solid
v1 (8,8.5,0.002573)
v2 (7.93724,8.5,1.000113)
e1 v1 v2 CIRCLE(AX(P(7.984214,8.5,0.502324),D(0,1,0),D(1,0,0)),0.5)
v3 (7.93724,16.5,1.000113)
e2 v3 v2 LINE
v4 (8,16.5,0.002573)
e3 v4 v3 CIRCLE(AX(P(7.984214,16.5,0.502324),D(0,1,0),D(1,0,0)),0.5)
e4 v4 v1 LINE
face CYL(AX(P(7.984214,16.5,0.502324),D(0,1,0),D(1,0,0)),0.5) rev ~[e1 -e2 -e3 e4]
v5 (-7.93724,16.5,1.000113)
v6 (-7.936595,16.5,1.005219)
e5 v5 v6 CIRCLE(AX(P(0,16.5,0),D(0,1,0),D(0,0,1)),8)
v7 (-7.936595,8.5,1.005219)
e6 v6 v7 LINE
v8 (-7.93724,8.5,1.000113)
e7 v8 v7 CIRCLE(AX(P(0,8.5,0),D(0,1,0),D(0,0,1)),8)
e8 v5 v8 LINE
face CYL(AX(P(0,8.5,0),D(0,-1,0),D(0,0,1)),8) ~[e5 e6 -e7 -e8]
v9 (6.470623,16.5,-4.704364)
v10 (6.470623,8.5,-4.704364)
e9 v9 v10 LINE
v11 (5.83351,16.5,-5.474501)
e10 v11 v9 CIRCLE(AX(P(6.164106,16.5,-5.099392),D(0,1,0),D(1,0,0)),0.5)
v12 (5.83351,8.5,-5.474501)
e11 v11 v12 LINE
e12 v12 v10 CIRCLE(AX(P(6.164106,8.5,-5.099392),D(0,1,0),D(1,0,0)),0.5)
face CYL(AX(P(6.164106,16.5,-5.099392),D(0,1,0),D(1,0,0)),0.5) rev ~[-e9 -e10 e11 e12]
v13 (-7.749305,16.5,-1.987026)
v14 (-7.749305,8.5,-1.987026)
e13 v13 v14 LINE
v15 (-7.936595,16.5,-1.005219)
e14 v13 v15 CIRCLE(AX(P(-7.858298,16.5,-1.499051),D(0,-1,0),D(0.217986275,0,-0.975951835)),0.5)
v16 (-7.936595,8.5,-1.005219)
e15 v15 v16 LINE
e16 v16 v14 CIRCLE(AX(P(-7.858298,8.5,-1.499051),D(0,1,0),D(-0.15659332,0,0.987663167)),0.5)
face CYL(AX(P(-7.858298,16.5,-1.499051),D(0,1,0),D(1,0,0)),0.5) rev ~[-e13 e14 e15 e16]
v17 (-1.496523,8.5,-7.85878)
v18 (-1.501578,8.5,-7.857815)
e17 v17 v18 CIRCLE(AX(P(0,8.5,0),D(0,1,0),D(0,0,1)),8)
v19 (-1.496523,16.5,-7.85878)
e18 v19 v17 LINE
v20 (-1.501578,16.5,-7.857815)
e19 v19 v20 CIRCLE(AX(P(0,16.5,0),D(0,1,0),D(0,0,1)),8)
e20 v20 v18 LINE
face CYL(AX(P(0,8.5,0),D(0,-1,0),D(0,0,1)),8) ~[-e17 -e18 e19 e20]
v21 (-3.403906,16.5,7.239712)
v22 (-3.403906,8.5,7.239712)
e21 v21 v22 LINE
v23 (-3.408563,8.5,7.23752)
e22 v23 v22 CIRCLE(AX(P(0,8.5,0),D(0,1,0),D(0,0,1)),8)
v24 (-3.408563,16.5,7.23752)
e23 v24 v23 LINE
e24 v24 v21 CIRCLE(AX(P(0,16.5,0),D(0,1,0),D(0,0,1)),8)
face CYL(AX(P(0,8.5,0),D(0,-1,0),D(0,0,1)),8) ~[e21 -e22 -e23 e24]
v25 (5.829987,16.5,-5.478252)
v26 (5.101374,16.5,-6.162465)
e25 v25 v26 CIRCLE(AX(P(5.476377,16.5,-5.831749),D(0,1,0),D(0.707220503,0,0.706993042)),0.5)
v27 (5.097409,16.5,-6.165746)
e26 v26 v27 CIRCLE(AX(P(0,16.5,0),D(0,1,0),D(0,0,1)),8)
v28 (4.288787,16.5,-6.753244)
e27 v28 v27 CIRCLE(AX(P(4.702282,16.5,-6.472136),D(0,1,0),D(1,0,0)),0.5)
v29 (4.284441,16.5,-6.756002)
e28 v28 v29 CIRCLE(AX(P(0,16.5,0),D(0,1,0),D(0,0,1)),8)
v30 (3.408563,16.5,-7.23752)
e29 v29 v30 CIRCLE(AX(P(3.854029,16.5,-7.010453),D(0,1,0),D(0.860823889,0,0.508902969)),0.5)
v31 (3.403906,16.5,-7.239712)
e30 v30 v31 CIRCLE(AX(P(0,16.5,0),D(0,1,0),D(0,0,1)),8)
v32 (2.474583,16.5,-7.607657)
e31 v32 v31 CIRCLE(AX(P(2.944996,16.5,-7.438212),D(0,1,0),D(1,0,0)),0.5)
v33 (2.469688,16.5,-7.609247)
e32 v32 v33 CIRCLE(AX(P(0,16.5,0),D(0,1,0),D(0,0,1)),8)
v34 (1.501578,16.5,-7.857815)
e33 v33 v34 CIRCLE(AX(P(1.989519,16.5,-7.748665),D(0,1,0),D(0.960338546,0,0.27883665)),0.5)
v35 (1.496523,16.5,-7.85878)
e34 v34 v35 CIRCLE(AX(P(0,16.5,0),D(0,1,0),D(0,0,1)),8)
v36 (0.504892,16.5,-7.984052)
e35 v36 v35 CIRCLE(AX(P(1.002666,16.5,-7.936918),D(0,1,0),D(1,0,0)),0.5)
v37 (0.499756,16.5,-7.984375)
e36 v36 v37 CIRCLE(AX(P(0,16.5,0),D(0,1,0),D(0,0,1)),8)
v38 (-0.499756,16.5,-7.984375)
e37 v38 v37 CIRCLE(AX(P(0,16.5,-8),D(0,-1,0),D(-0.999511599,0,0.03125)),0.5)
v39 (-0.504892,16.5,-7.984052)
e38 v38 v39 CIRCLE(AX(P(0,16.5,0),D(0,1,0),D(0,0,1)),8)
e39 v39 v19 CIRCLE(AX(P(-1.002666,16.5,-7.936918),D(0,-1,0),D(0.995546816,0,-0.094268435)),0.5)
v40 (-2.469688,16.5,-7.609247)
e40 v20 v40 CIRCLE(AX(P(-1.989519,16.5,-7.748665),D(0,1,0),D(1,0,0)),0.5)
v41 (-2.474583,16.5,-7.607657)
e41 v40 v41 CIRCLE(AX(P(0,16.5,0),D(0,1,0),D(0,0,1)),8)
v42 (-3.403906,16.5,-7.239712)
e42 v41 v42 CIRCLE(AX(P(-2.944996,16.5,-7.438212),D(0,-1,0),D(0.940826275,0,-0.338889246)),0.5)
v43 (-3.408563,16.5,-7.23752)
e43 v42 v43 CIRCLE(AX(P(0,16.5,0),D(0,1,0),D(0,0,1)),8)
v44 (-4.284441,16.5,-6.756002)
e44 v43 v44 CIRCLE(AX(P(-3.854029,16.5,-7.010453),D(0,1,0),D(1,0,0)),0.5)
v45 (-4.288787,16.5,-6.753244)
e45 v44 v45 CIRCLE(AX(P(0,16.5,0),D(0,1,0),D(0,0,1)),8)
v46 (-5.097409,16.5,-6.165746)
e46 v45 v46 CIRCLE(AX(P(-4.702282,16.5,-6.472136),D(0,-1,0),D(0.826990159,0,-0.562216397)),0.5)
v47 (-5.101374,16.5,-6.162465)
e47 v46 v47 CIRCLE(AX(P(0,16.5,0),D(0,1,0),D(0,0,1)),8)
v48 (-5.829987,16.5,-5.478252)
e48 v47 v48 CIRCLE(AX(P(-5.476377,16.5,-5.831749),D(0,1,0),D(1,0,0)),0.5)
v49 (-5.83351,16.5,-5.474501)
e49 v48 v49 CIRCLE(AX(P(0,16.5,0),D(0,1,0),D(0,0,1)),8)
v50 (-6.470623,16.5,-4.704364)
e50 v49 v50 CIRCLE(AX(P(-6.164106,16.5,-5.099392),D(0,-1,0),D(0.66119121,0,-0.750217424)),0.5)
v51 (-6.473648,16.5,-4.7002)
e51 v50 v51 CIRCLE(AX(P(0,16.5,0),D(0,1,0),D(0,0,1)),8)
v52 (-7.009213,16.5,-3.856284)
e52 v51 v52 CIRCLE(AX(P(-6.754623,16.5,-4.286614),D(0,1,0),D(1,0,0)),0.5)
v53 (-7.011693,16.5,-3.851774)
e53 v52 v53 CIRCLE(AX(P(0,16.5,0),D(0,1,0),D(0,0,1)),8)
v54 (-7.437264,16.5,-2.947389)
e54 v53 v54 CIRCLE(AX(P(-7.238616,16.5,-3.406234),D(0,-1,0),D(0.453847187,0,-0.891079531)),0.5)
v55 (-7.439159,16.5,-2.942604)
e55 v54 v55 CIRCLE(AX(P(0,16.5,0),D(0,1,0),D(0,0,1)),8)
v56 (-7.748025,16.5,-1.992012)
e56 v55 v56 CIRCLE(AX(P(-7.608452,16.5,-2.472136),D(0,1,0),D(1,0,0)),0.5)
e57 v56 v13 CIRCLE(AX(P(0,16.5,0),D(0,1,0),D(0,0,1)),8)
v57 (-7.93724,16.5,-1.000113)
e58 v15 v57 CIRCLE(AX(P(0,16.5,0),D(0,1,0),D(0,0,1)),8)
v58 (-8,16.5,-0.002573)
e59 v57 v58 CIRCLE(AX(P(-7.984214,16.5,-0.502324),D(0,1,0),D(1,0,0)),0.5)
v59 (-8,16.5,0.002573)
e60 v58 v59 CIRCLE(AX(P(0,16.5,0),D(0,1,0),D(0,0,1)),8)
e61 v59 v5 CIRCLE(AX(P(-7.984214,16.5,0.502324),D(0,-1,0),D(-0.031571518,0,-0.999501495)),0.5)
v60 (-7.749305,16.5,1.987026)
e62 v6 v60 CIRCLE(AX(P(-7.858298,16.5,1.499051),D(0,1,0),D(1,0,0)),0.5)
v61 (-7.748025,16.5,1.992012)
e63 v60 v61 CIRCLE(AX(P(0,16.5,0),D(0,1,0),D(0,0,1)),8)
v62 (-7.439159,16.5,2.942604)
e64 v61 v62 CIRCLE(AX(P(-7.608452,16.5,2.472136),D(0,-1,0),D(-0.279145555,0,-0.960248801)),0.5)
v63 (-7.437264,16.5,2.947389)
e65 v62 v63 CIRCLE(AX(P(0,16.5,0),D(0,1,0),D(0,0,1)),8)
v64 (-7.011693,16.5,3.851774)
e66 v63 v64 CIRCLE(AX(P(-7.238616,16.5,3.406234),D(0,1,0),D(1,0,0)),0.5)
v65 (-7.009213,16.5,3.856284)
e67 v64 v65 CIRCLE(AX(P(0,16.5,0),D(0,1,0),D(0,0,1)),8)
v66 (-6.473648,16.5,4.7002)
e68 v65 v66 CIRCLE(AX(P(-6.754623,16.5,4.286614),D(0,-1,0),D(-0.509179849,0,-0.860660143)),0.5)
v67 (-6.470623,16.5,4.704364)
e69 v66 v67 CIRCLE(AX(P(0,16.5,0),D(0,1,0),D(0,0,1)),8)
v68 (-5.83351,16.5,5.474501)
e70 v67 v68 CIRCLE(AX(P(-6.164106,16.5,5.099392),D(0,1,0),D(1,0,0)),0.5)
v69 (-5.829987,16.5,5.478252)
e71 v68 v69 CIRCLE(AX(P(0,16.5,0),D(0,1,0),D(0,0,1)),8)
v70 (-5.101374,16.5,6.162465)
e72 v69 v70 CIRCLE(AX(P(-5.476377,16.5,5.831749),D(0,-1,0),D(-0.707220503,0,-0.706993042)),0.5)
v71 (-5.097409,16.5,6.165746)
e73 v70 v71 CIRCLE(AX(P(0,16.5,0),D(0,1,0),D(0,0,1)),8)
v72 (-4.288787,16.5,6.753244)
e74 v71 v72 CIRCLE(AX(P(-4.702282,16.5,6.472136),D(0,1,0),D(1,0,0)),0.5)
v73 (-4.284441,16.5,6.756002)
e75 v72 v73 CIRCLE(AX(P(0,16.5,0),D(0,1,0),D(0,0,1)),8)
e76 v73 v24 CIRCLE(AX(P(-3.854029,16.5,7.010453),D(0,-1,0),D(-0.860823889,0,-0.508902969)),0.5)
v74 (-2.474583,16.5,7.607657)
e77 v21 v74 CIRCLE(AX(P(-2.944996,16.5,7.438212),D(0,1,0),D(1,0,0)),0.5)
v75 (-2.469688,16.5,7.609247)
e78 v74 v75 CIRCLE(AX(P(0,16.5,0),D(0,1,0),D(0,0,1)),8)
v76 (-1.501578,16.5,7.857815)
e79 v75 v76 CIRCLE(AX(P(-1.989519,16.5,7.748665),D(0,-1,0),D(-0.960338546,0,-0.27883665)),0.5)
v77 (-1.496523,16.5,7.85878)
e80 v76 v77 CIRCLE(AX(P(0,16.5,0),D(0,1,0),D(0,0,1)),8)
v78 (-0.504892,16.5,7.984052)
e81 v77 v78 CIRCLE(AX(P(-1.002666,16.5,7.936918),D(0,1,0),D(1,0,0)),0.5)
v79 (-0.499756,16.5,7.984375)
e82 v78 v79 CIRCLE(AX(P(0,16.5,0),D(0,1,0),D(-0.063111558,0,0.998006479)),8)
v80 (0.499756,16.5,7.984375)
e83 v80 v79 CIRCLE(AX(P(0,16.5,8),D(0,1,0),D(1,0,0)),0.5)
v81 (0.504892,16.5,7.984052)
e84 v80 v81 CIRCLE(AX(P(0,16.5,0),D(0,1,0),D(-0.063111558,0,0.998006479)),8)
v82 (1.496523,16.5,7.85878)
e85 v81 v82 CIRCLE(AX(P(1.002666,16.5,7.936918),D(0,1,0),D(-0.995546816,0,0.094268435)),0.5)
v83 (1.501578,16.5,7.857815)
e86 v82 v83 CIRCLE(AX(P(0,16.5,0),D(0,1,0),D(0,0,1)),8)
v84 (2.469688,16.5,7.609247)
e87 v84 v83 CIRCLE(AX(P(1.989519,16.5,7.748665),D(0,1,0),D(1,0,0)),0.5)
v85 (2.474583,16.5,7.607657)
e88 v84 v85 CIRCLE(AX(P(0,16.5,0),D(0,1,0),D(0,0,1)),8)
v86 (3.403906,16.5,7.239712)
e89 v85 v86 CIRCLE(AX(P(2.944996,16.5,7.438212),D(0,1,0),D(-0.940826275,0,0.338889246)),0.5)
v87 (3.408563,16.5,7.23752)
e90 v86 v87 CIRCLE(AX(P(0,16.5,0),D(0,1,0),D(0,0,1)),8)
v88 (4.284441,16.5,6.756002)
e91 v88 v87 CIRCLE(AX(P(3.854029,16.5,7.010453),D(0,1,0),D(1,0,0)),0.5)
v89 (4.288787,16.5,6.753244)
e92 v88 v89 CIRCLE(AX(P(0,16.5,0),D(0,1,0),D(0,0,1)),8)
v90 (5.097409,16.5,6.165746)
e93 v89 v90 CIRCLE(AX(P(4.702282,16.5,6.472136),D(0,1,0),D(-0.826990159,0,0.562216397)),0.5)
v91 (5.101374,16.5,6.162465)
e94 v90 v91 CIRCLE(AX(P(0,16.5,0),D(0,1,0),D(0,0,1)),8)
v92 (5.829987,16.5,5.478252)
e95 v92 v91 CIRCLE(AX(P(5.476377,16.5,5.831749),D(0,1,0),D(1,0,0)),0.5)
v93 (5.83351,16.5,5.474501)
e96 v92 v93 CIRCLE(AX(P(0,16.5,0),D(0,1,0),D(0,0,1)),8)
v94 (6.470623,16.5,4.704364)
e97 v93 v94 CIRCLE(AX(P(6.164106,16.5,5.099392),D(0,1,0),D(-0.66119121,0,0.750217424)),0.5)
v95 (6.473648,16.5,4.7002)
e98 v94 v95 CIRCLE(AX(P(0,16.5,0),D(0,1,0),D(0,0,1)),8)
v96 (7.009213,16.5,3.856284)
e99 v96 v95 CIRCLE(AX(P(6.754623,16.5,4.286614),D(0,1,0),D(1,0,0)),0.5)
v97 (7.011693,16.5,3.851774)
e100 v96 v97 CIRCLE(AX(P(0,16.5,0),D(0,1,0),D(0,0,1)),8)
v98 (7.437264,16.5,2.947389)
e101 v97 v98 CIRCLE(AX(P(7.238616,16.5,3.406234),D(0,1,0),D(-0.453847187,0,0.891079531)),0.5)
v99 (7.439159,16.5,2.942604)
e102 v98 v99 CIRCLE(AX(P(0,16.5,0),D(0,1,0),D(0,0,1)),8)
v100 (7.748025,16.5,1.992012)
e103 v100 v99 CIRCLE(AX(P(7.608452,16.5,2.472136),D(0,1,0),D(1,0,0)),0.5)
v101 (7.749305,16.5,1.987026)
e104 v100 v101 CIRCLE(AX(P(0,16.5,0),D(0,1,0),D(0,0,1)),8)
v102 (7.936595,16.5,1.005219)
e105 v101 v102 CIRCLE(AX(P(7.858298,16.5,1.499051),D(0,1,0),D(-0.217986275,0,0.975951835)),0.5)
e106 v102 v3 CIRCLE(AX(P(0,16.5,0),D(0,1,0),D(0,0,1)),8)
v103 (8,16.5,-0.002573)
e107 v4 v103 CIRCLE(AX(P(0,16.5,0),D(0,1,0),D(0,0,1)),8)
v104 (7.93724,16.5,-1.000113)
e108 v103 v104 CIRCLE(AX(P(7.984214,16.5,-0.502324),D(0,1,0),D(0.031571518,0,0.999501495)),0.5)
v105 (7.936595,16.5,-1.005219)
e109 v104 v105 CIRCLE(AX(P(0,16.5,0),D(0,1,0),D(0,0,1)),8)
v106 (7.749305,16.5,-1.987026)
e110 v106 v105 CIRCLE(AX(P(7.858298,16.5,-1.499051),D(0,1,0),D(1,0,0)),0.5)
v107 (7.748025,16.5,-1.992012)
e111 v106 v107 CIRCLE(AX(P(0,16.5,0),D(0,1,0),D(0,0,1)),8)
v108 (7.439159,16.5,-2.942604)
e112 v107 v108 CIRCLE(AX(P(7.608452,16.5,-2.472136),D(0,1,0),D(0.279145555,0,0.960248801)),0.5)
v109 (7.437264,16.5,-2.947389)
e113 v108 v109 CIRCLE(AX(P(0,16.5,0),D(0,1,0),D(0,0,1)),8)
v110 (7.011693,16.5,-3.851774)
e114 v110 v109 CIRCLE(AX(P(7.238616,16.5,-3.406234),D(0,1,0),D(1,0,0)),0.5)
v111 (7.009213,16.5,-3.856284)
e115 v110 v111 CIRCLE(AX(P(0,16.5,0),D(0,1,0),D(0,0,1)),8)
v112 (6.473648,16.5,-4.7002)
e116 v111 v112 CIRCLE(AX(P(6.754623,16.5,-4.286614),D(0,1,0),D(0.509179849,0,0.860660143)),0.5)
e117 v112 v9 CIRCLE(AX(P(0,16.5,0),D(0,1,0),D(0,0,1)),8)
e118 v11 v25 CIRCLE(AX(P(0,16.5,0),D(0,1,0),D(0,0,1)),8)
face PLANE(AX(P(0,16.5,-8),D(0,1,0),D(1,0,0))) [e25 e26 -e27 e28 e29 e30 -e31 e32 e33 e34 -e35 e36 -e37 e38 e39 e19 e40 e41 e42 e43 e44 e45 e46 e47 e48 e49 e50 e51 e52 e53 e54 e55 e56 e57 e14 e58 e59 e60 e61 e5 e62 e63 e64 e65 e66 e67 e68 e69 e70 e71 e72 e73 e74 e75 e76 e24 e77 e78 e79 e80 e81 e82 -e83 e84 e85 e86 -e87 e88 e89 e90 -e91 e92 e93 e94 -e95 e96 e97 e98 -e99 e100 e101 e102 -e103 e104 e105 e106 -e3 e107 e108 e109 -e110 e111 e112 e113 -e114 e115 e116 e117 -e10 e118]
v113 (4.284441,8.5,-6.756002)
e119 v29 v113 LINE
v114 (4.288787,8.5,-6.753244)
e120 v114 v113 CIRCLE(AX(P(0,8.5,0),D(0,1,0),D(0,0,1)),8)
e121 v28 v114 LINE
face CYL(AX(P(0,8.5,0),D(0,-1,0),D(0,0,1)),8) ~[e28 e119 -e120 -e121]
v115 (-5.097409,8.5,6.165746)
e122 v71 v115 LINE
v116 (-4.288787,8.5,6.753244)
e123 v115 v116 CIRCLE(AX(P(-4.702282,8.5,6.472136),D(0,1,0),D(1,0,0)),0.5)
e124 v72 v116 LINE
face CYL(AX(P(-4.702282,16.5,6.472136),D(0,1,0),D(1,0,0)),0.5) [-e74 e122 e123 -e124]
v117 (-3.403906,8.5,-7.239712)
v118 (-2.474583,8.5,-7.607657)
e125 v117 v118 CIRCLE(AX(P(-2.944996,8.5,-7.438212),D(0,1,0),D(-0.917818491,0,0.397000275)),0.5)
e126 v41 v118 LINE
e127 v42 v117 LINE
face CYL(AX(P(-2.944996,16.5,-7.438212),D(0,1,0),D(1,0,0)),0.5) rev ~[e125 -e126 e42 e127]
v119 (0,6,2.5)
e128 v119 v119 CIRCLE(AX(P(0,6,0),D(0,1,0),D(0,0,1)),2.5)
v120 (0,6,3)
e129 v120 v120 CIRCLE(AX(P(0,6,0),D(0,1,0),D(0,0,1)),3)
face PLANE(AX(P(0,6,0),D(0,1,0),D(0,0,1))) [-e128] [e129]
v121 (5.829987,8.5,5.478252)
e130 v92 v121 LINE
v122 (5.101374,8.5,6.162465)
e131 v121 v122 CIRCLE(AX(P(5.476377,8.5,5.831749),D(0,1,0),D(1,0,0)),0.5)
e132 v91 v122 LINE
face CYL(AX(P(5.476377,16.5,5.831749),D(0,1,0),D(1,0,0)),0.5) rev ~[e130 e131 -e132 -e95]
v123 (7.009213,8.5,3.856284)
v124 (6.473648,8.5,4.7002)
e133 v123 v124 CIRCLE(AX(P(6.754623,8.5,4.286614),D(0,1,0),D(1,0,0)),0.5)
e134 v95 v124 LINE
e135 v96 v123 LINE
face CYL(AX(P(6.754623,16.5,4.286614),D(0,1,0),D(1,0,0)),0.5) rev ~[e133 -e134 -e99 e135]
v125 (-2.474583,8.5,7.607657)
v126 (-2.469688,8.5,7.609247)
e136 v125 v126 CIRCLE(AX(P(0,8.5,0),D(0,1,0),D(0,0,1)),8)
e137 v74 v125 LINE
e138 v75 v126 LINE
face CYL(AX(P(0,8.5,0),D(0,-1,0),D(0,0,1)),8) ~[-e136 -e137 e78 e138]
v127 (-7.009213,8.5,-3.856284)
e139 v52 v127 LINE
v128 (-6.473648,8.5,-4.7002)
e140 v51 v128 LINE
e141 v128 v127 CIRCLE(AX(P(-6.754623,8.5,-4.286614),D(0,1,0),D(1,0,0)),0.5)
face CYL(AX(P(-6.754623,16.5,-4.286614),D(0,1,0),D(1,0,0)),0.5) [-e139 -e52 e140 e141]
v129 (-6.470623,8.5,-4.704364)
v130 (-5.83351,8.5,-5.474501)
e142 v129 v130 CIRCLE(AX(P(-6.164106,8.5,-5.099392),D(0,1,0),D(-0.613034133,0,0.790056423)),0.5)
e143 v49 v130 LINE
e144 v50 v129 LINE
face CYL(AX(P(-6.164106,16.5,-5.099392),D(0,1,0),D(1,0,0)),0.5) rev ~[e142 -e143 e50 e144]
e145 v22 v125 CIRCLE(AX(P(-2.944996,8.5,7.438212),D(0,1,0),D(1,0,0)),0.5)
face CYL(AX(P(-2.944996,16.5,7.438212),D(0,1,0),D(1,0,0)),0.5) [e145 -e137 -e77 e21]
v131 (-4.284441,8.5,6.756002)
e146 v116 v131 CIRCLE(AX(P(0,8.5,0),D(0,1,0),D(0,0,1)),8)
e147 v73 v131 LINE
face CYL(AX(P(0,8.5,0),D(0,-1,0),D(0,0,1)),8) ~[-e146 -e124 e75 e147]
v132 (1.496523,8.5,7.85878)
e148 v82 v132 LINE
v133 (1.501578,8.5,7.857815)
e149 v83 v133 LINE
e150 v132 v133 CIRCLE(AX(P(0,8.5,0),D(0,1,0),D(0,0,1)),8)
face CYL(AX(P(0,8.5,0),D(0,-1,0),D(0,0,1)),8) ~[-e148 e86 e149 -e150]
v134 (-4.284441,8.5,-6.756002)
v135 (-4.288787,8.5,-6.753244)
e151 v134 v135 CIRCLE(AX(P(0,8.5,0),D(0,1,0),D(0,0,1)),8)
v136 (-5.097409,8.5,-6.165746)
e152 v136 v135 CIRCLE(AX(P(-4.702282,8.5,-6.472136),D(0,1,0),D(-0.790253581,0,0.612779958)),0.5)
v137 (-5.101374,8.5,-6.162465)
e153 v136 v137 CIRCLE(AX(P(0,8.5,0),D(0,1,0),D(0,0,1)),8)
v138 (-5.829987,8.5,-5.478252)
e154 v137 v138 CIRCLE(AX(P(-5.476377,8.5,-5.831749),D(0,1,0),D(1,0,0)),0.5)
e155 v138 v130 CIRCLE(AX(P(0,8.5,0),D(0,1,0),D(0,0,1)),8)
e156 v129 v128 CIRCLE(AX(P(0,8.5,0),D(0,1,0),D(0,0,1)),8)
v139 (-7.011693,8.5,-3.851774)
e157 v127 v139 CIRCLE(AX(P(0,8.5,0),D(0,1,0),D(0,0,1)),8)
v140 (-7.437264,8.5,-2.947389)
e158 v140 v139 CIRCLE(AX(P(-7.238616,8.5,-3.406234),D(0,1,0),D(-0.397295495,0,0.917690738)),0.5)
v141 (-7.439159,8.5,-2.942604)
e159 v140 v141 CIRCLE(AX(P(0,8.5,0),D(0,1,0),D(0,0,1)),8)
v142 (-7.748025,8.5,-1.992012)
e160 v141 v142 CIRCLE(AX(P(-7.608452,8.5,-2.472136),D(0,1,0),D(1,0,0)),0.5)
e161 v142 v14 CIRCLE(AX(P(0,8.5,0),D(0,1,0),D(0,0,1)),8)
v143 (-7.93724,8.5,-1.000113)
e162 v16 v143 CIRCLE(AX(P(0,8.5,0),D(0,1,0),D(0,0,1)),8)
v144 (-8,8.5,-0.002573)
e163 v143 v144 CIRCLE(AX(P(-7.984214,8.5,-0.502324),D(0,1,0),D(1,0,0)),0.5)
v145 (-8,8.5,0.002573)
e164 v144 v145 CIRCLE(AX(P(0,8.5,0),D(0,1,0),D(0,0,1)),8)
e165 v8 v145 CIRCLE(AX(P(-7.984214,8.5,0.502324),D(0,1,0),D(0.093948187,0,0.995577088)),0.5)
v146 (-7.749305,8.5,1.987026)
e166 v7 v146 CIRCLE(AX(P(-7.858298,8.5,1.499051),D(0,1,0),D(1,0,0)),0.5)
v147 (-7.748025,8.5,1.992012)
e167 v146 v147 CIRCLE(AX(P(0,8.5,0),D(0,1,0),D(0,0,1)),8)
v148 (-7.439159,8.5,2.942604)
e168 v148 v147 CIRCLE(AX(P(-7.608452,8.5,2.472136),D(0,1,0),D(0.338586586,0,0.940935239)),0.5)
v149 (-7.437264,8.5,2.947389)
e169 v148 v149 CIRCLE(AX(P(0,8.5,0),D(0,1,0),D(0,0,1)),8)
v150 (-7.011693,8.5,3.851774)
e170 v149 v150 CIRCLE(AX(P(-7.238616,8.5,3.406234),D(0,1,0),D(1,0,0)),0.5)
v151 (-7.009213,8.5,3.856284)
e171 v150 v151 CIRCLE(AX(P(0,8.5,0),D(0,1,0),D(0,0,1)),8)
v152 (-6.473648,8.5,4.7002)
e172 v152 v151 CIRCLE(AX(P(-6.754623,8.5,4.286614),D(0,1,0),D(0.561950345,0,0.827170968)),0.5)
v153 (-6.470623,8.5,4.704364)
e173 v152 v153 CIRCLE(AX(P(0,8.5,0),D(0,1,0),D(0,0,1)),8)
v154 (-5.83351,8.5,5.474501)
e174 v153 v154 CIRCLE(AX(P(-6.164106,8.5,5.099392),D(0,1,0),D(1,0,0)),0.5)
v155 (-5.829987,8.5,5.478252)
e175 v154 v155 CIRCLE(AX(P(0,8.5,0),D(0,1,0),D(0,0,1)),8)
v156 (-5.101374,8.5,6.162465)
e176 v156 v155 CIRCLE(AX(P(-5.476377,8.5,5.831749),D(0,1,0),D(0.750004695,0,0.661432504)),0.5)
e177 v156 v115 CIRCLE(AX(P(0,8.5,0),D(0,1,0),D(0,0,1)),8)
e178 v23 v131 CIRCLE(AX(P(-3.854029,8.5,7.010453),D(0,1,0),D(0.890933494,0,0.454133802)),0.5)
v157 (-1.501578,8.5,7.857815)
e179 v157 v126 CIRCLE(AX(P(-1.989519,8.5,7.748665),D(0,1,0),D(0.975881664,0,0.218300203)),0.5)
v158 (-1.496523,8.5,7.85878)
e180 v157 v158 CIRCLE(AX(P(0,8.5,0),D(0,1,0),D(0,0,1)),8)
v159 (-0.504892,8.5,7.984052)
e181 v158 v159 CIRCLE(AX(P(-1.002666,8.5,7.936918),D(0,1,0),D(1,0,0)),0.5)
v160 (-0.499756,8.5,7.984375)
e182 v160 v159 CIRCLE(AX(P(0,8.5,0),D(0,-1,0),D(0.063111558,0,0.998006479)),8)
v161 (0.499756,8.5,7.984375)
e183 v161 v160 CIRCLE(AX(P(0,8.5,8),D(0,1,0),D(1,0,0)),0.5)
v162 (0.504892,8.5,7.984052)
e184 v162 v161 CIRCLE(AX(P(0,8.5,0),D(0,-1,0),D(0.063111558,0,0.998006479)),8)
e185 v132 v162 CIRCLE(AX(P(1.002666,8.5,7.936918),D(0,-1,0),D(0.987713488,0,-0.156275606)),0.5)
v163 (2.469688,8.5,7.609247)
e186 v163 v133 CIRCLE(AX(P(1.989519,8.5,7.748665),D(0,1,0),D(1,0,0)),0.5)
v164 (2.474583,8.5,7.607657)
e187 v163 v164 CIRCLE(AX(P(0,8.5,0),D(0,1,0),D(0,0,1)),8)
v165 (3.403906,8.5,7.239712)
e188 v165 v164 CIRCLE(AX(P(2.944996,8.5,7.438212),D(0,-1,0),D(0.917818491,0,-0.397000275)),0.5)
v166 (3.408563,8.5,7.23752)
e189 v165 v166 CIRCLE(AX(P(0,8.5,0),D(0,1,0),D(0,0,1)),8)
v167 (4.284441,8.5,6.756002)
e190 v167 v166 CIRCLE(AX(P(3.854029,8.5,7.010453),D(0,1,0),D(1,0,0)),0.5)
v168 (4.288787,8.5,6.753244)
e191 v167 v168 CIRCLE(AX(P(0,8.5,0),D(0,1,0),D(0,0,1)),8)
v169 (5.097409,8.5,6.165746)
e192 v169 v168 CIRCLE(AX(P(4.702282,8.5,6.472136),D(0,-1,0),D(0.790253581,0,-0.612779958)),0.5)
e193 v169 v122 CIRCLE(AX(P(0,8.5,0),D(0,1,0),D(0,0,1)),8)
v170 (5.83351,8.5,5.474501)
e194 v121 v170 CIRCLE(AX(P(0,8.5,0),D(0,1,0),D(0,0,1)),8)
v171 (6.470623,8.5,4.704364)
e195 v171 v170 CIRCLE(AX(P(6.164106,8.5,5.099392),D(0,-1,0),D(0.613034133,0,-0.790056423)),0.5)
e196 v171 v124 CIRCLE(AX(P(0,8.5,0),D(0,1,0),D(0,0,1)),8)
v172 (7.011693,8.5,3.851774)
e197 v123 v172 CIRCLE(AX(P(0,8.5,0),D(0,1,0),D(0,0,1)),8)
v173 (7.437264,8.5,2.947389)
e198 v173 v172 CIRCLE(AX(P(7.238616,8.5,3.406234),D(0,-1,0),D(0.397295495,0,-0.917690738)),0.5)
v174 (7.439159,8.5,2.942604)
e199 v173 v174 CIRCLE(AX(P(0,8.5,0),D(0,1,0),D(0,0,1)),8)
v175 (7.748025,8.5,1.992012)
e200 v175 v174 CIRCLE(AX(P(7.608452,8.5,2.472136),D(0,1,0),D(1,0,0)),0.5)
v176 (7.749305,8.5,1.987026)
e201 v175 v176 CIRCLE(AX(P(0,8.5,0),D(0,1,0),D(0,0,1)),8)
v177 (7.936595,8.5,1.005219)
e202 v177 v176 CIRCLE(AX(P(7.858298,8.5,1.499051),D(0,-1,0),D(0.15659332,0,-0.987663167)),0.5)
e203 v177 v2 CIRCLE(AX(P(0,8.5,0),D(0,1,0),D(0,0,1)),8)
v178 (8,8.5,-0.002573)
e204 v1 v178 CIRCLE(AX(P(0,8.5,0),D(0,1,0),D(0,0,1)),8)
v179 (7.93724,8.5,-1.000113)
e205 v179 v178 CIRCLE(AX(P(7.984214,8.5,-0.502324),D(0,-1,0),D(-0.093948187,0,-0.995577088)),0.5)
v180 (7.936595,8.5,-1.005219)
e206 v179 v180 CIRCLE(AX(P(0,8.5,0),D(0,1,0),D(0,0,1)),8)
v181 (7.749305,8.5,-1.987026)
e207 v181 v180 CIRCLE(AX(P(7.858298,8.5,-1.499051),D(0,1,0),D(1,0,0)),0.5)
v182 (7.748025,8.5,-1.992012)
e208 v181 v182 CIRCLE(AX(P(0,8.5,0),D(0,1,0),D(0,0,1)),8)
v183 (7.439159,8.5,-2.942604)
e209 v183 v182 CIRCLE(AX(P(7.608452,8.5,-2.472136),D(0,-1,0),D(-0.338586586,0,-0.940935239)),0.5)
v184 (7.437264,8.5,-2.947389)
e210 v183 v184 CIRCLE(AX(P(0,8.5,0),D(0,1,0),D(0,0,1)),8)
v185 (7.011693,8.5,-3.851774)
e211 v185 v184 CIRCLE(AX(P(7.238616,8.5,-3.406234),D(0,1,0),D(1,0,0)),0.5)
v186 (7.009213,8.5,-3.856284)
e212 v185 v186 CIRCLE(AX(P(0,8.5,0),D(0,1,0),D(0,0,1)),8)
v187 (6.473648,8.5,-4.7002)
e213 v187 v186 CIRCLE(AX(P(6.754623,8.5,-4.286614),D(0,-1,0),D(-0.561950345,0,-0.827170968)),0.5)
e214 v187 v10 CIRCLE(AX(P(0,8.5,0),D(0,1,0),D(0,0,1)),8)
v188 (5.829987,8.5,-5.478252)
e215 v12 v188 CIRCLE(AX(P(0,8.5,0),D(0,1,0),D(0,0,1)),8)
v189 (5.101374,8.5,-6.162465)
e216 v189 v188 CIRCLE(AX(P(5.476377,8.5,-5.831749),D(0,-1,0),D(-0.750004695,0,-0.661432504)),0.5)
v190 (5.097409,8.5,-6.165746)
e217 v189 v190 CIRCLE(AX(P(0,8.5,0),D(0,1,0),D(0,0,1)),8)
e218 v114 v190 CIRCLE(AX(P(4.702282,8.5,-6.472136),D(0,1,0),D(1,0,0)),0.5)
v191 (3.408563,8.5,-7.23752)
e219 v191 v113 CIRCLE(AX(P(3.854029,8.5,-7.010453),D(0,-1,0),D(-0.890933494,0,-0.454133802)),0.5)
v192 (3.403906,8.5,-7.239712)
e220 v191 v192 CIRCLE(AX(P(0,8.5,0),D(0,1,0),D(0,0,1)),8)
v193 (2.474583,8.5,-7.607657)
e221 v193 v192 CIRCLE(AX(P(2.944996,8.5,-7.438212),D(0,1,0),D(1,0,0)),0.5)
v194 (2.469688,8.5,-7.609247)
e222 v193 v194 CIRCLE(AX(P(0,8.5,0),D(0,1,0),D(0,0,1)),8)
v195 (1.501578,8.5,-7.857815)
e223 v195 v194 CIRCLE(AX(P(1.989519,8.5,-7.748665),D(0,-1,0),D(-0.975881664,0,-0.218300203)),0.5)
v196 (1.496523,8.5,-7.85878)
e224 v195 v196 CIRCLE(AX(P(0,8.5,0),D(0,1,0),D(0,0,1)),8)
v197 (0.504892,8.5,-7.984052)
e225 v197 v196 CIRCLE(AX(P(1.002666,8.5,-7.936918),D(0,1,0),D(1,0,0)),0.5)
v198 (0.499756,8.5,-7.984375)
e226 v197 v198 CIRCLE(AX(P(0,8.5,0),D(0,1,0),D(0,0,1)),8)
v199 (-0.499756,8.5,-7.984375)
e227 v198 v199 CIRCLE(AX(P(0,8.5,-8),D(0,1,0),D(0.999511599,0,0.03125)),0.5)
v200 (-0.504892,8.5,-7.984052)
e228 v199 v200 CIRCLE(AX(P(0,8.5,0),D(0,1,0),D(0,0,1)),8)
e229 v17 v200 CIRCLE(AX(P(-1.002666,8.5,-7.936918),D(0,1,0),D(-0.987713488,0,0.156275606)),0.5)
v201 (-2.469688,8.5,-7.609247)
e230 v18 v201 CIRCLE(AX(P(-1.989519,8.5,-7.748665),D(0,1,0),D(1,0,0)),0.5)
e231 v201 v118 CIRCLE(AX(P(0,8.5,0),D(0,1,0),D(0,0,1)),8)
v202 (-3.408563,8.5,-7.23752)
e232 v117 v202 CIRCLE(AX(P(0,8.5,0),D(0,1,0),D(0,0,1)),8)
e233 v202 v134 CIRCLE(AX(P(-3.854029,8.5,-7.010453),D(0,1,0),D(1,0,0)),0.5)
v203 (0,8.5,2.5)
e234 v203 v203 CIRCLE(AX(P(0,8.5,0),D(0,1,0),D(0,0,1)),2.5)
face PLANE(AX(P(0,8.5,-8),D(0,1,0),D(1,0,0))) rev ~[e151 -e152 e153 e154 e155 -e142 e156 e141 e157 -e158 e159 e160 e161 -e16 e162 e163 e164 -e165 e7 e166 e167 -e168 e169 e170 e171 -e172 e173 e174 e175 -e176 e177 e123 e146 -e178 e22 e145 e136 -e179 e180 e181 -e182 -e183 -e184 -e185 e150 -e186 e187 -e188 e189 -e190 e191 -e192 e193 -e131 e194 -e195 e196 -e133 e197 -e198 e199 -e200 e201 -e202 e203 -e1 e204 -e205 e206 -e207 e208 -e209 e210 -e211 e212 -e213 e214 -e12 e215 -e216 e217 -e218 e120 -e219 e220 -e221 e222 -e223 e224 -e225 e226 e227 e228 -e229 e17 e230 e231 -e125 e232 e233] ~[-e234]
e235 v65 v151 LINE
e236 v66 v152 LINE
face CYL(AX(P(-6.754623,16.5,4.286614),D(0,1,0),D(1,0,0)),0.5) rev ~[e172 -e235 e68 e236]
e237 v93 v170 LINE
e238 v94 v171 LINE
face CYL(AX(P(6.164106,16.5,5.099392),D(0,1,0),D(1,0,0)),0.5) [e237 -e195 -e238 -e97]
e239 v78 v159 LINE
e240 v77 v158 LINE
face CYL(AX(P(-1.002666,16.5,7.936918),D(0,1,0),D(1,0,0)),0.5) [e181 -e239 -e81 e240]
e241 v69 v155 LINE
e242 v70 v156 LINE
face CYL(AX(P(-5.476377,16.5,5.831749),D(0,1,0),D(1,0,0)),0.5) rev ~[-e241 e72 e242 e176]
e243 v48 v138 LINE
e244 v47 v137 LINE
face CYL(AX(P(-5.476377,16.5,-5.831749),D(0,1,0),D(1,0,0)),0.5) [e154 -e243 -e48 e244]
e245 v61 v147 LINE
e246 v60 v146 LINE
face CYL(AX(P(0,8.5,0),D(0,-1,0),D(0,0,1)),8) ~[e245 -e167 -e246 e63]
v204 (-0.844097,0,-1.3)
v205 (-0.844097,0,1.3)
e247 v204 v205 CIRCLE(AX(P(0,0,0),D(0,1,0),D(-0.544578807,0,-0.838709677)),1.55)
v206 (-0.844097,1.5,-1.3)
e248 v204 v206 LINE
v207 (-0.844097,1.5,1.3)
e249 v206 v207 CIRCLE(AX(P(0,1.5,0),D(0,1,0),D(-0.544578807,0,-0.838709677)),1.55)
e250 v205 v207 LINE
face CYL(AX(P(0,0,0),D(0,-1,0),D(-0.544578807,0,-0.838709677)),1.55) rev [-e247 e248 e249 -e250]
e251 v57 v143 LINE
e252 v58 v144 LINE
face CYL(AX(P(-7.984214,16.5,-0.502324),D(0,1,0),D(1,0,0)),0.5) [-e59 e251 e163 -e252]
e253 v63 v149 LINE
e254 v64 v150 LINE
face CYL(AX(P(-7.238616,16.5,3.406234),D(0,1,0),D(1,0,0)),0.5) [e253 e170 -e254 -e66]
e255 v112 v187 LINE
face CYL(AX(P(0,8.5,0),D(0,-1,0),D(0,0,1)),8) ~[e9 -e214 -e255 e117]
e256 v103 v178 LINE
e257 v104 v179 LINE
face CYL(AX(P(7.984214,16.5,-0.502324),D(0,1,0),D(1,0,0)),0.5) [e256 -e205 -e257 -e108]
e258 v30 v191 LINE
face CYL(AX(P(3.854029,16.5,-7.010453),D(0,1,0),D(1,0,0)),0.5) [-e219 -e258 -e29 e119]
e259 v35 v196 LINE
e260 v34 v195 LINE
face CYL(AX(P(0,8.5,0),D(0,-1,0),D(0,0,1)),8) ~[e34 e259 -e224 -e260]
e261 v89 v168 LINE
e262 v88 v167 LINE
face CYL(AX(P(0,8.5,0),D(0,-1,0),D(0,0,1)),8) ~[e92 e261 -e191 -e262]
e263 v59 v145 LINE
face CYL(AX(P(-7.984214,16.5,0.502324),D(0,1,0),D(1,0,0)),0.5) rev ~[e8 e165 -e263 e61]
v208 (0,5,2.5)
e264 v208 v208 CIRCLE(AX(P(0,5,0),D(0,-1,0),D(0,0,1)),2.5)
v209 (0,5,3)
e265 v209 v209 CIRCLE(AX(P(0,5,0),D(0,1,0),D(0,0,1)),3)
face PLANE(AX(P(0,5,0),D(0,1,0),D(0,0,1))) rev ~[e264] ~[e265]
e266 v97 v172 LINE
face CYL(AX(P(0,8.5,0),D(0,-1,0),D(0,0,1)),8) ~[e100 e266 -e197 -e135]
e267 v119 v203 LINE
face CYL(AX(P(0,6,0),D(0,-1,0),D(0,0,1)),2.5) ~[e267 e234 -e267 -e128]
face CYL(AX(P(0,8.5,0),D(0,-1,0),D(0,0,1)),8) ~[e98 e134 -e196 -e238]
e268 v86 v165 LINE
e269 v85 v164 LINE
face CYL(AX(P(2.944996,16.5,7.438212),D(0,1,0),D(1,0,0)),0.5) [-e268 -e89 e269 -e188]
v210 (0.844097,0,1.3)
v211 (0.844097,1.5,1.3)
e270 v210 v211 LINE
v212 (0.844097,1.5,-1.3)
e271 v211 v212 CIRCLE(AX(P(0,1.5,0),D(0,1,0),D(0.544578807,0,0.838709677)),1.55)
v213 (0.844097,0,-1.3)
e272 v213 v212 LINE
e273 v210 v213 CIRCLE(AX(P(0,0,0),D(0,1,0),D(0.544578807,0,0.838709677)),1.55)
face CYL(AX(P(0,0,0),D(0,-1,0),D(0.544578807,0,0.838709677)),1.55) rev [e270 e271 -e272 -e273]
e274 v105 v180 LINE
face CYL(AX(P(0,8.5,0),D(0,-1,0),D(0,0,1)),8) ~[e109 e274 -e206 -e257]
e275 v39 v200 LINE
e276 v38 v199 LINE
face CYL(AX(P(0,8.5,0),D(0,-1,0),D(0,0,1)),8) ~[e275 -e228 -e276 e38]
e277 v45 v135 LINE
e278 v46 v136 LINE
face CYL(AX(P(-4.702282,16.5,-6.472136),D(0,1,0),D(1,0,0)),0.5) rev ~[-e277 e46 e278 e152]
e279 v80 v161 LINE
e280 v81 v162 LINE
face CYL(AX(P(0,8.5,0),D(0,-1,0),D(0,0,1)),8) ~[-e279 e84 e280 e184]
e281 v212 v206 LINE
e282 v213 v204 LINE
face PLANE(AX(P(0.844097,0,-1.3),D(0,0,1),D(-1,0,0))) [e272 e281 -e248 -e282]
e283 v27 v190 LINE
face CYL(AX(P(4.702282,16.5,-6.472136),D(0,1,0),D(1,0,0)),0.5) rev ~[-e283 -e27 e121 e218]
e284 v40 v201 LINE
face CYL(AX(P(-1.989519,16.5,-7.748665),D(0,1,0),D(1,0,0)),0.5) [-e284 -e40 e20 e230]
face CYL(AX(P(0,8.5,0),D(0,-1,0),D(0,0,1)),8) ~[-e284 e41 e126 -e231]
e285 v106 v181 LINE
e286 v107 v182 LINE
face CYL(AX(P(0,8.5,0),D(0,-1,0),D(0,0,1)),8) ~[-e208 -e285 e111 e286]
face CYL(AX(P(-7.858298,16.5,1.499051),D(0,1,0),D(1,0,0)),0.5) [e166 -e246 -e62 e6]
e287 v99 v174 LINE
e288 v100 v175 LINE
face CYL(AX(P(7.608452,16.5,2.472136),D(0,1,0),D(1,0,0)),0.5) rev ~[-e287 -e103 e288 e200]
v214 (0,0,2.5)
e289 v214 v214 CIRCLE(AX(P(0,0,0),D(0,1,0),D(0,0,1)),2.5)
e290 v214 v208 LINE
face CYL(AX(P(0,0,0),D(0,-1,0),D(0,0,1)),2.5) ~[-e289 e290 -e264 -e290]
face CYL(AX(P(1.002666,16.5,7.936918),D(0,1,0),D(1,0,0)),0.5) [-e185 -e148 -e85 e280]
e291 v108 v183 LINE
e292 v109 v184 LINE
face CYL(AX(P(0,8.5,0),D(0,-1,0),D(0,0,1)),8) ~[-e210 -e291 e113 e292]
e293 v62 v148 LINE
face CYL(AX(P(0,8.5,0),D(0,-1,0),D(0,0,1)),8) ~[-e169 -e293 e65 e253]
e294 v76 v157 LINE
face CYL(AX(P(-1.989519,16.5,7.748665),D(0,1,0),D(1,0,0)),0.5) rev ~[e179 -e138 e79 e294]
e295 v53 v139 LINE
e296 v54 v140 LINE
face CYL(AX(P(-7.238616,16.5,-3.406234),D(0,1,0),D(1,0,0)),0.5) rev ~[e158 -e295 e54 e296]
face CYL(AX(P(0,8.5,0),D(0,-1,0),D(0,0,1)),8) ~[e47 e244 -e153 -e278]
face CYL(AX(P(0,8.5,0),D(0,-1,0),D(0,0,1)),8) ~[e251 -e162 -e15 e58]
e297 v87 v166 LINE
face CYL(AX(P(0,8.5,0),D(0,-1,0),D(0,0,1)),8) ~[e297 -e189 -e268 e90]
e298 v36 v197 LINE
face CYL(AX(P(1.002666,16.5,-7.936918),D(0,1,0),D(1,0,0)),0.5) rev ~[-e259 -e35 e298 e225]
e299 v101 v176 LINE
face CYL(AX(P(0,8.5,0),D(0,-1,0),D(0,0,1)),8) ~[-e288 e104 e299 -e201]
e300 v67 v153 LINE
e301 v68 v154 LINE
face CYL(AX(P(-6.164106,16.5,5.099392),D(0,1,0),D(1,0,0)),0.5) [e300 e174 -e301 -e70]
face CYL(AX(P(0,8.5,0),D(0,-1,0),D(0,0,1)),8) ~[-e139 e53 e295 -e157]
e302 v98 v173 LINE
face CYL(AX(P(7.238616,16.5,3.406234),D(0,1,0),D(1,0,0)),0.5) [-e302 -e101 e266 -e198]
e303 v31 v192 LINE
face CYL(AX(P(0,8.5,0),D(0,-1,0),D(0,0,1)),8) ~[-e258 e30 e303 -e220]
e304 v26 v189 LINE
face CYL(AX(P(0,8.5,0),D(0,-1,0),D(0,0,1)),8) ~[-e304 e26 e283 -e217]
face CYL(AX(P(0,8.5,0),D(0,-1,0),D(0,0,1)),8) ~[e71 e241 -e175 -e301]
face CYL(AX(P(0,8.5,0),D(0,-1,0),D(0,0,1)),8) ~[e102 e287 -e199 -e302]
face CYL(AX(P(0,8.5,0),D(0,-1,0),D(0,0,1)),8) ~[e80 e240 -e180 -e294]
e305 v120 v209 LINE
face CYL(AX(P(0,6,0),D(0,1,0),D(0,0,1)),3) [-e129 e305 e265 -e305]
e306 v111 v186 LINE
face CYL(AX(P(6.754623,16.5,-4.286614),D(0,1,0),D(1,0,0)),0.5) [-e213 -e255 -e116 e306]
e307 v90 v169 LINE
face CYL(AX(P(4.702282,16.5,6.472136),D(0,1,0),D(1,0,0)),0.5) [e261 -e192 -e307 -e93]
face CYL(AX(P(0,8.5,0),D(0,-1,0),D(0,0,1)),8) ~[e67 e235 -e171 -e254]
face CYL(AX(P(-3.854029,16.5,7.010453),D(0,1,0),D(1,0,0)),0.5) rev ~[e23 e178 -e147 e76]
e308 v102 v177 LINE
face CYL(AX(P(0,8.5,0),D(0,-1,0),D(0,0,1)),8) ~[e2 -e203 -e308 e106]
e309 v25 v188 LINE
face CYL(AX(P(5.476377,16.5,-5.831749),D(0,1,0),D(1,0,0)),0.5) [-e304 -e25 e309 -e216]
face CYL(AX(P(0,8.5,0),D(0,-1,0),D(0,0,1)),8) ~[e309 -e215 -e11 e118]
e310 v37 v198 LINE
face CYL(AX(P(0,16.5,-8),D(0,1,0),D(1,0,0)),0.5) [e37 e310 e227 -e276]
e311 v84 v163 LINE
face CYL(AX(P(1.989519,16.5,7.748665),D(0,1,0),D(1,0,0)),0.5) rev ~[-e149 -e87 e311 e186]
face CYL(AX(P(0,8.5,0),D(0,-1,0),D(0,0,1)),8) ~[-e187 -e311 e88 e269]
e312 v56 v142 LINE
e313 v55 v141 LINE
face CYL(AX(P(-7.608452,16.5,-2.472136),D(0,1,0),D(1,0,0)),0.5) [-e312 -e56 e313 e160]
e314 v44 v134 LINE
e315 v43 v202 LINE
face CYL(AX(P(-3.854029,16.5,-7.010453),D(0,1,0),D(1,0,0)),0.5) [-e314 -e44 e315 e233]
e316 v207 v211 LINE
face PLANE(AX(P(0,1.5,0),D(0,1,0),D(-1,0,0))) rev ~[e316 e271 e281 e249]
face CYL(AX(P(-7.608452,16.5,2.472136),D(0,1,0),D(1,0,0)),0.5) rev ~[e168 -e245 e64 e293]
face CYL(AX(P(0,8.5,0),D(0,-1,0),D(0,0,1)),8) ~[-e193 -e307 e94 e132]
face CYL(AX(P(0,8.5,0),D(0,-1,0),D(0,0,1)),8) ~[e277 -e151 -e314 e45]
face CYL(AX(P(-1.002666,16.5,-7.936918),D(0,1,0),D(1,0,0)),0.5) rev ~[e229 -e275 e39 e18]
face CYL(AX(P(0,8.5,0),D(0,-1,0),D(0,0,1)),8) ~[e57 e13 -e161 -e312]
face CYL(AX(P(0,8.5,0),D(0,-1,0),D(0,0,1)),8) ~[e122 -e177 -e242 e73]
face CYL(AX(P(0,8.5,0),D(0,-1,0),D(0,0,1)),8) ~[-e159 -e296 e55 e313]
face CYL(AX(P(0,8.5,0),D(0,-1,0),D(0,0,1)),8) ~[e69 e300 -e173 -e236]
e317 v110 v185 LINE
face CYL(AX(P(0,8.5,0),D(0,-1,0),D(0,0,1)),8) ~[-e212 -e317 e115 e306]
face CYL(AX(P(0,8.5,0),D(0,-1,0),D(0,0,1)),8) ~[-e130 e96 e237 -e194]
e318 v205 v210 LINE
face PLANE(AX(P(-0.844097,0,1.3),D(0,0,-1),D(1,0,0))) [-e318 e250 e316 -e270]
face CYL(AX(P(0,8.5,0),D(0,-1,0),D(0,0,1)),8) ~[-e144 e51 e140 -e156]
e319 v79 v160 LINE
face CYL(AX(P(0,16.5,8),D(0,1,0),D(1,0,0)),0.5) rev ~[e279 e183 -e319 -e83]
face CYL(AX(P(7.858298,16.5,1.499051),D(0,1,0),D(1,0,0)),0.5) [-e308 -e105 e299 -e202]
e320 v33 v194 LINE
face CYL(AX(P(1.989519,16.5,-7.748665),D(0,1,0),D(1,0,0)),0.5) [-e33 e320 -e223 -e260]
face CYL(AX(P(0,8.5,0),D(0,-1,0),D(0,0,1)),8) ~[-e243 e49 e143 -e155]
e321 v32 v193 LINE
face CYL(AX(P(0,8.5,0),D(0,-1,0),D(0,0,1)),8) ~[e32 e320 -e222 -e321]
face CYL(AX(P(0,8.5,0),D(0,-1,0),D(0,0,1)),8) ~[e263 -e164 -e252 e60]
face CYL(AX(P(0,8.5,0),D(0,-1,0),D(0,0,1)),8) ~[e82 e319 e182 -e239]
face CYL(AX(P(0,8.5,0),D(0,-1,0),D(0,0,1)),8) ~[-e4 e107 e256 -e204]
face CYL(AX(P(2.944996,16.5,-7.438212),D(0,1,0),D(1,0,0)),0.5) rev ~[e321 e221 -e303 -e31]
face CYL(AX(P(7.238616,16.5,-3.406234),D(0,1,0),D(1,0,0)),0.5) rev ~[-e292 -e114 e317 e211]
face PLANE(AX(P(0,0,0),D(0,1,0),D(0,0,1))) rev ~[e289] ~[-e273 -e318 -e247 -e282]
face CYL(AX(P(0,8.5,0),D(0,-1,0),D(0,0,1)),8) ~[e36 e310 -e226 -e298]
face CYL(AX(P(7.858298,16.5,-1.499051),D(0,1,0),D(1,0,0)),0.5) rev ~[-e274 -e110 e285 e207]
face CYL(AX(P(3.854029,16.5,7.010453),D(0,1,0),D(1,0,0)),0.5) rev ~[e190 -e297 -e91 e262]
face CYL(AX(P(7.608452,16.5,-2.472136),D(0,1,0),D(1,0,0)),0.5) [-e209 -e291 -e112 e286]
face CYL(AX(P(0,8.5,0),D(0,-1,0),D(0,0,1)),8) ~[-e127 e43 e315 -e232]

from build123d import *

# Parameters (mm, degrees)
SKETCH_1_R          = 2.5
EXTRUDE_1_DEPTH     = 6
SKETCH_2_R          = 3
EXTRUDE_2_DEPTH     = 1
SKETCH_3_R          = 2.5
EXTRUDE_3_DEPTH     = 2.5
SKETCH_4_R          = 8
EXTRUDE_4_DEPTH     = 8
SKETCH_6_R          = 0.5
EXTRUDE_5_DEPTH     = 8
SKETCH_7_R          = 0.5
CUT_EXTRUDE_1_DEPTH = 8
CUT_EXTRUDE_2_DEPTH = 1.5


with BuildPart() as part:
    # 草图1 → 凸台-拉伸1 (new body)
    with BuildSketch(Plane(origin=(0, 0, 0), x_dir=(1, 0, 0), z_dir=(0, 1, 0))):
        with Locations(Location((0, 0, 0), (0, 0, 270))):
            Circle(SKETCH_1_R)
    extrude(amount=EXTRUDE_1_DEPTH)

    # 草图2 → 凸台-拉伸2 (add)
    with BuildSketch(Plane(origin=(0, 6, 0), x_dir=(1, 0, 0), z_dir=(0, 1, 0))):
        with Locations(Location((0, 0, 0), (0, 0, 270))):
            Circle(SKETCH_2_R)
    extrude(amount=-EXTRUDE_2_DEPTH)

    # 草图3 → 凸台-拉伸3 (add)
    with BuildSketch(Plane(origin=(0, 6, 0), x_dir=(1, 0, 0), z_dir=(0, 1, 0))):
        with Locations(Location((0, 0, 0), (0, 0, 270))):
            Circle(SKETCH_3_R)
    extrude(amount=EXTRUDE_3_DEPTH)

    # 草图4 → 凸台-拉伸4 (add)
    with BuildSketch(Plane(origin=(0, 8.5, 0), x_dir=(1, 0, 0), z_dir=(0, 1, 0))):
        with Locations(Location((0, 0, 0), (0, 0, 270))):
            Circle(SKETCH_4_R)
    extrude(amount=EXTRUDE_4_DEPTH)

    # 草图6 → 凸台-拉伸5 (add)
    with BuildSketch(Plane(origin=(0, 16.5, 0), x_dir=(1, 0, 0), z_dir=(0, 1, 0))):
        with Locations((0, 8)):
            Circle(SKETCH_6_R)
        with Locations((1.989519097, 7.748665289)):
            Circle(SKETCH_6_R)
        with Locations((3.854029393, 7.01045344)):
            Circle(SKETCH_6_R)
        with Locations((5.476376847, 5.831749019)):
            Circle(SKETCH_6_R)
        with Locations((6.754623404, 4.28661436)):
            Circle(SKETCH_6_R)
        with Locations((7.60845213, 2.472135955)):
            Circle(SKETCH_6_R)
        with Locations((7.984213827, 0.502324156)):
            Circle(SKETCH_6_R)
        with Locations((7.858298006, -1.499050517)):
            Circle(SKETCH_6_R)
        with Locations((7.23861642, -3.406234333)):
            Circle(SKETCH_6_R)
        with Locations((6.164105942, -5.099391918)):
            Circle(SKETCH_6_R)
        with Locations((4.702282018, -6.472135955)):
            Circle(SKETCH_6_R)
        with Locations((2.944996421, -7.438211887)):
            Circle(SKETCH_6_R)
        with Locations((1.002665869, -7.936917611)):
            Circle(SKETCH_6_R)
        with Locations((-1.002665869, -7.936917611)):
            Circle(SKETCH_6_R)
        with Locations((-2.944996421, -7.438211887)):
            Circle(SKETCH_6_R)
        with Locations((-4.702282018, -6.472135955)):
            Circle(SKETCH_6_R)
        with Locations((-6.164105942, -5.099391918)):
            Circle(SKETCH_6_R)
        with Locations((-7.23861642, -3.406234333)):
            Circle(SKETCH_6_R)
        with Locations((-7.858298006, -1.499050517)):
            Circle(SKETCH_6_R)
        with Locations((-7.984213827, 0.502324156)):
            Circle(SKETCH_6_R)
        with Locations((-7.60845213, 2.472135955)):
            Circle(SKETCH_6_R)
        with Locations((-6.754623404, 4.28661436)):
            Circle(SKETCH_6_R)
        with Locations((-5.476376847, 5.831749019)):
            Circle(SKETCH_6_R)
        with Locations((-3.854029393, 7.01045344)):
            Circle(SKETCH_6_R)
        with Locations((-1.989519097, 7.748665289)):
            Circle(SKETCH_6_R)
    extrude(amount=-EXTRUDE_5_DEPTH)

    # 草图7 → 切除-拉伸1 (cut)
    with BuildSketch(Plane(origin=(0, 16.5, 0), x_dir=(1, 0, 0), z_dir=(0, 1, 0))):
        with Locations((1.002665869, 7.936917611)):
            Circle(SKETCH_7_R)
        with Locations((2.944996421, 7.438211887)):
            Circle(SKETCH_7_R)
        with Locations((4.702282018, 6.472135955)):
            Circle(SKETCH_7_R)
        with Locations((6.164105942, 5.099391918)):
            Circle(SKETCH_7_R)
        with Locations((7.23861642, 3.406234333)):
            Circle(SKETCH_7_R)
        with Locations((7.858298006, 1.499050517)):
            Circle(SKETCH_7_R)
        with Locations((7.984213827, -0.502324156)):
            Circle(SKETCH_7_R)
        with Locations((7.60845213, -2.472135955)):
            Circle(SKETCH_7_R)
        with Locations((6.754623404, -4.28661436)):
            Circle(SKETCH_7_R)
        with Locations((5.476376847, -5.831749019)):
            Circle(SKETCH_7_R)
        with Locations((3.854029393, -7.01045344)):
            Circle(SKETCH_7_R)
        with Locations((1.989519097, -7.748665289)):
            Circle(SKETCH_7_R)
        with Locations((0, -8)):
            Circle(SKETCH_7_R)
        with Locations((-1.989519097, -7.748665289)):
            Circle(SKETCH_7_R)
        with Locations((-3.854029393, -7.01045344)):
            Circle(SKETCH_7_R)
        with Locations((-5.476376847, -5.831749019)):
            Circle(SKETCH_7_R)
        with Locations((-6.754623404, -4.28661436)):
            Circle(SKETCH_7_R)
        with Locations((-7.60845213, -2.472135955)):
            Circle(SKETCH_7_R)
        with Locations((-7.984213827, -0.502324156)):
            Circle(SKETCH_7_R)
        with Locations((-7.858298006, 1.499050517)):
            Circle(SKETCH_7_R)
        with Locations((-7.23861642, 3.406234333)):
            Circle(SKETCH_7_R)
        with Locations((-6.164105942, 5.099391918)):
            Circle(SKETCH_7_R)
        with Locations((-4.702282018, 6.472135955)):
            Circle(SKETCH_7_R)
        with Locations((-2.944996421, 7.438211887)):
            Circle(SKETCH_7_R)
        with Locations((-1.002665869, 7.936917611)):
            Circle(SKETCH_7_R)
    extrude(amount=-CUT_EXTRUDE_1_DEPTH, mode=Mode.SUBTRACT)

    # 草图9 → 切除-拉伸2 (cut)
    with BuildSketch(Plane.XZ):
        with BuildLine():
            Line((-0.844097151, 1.3), (0.844097151, 1.3))
            ThreePointArc((0.844097151, 1.3), (1.55, 0), (0.844097151, -1.3))
            Line((0.844097151, -1.3), (-0.844097151, -1.3))
            ThreePointArc((-0.844097151, -1.3), (-1.55, 0), (-0.844097151, 1.3))
        make_face()
    extrude(amount=-CUT_EXTRUDE_2_DEPTH, mode=Mode.SUBTRACT)


solid = part.part
